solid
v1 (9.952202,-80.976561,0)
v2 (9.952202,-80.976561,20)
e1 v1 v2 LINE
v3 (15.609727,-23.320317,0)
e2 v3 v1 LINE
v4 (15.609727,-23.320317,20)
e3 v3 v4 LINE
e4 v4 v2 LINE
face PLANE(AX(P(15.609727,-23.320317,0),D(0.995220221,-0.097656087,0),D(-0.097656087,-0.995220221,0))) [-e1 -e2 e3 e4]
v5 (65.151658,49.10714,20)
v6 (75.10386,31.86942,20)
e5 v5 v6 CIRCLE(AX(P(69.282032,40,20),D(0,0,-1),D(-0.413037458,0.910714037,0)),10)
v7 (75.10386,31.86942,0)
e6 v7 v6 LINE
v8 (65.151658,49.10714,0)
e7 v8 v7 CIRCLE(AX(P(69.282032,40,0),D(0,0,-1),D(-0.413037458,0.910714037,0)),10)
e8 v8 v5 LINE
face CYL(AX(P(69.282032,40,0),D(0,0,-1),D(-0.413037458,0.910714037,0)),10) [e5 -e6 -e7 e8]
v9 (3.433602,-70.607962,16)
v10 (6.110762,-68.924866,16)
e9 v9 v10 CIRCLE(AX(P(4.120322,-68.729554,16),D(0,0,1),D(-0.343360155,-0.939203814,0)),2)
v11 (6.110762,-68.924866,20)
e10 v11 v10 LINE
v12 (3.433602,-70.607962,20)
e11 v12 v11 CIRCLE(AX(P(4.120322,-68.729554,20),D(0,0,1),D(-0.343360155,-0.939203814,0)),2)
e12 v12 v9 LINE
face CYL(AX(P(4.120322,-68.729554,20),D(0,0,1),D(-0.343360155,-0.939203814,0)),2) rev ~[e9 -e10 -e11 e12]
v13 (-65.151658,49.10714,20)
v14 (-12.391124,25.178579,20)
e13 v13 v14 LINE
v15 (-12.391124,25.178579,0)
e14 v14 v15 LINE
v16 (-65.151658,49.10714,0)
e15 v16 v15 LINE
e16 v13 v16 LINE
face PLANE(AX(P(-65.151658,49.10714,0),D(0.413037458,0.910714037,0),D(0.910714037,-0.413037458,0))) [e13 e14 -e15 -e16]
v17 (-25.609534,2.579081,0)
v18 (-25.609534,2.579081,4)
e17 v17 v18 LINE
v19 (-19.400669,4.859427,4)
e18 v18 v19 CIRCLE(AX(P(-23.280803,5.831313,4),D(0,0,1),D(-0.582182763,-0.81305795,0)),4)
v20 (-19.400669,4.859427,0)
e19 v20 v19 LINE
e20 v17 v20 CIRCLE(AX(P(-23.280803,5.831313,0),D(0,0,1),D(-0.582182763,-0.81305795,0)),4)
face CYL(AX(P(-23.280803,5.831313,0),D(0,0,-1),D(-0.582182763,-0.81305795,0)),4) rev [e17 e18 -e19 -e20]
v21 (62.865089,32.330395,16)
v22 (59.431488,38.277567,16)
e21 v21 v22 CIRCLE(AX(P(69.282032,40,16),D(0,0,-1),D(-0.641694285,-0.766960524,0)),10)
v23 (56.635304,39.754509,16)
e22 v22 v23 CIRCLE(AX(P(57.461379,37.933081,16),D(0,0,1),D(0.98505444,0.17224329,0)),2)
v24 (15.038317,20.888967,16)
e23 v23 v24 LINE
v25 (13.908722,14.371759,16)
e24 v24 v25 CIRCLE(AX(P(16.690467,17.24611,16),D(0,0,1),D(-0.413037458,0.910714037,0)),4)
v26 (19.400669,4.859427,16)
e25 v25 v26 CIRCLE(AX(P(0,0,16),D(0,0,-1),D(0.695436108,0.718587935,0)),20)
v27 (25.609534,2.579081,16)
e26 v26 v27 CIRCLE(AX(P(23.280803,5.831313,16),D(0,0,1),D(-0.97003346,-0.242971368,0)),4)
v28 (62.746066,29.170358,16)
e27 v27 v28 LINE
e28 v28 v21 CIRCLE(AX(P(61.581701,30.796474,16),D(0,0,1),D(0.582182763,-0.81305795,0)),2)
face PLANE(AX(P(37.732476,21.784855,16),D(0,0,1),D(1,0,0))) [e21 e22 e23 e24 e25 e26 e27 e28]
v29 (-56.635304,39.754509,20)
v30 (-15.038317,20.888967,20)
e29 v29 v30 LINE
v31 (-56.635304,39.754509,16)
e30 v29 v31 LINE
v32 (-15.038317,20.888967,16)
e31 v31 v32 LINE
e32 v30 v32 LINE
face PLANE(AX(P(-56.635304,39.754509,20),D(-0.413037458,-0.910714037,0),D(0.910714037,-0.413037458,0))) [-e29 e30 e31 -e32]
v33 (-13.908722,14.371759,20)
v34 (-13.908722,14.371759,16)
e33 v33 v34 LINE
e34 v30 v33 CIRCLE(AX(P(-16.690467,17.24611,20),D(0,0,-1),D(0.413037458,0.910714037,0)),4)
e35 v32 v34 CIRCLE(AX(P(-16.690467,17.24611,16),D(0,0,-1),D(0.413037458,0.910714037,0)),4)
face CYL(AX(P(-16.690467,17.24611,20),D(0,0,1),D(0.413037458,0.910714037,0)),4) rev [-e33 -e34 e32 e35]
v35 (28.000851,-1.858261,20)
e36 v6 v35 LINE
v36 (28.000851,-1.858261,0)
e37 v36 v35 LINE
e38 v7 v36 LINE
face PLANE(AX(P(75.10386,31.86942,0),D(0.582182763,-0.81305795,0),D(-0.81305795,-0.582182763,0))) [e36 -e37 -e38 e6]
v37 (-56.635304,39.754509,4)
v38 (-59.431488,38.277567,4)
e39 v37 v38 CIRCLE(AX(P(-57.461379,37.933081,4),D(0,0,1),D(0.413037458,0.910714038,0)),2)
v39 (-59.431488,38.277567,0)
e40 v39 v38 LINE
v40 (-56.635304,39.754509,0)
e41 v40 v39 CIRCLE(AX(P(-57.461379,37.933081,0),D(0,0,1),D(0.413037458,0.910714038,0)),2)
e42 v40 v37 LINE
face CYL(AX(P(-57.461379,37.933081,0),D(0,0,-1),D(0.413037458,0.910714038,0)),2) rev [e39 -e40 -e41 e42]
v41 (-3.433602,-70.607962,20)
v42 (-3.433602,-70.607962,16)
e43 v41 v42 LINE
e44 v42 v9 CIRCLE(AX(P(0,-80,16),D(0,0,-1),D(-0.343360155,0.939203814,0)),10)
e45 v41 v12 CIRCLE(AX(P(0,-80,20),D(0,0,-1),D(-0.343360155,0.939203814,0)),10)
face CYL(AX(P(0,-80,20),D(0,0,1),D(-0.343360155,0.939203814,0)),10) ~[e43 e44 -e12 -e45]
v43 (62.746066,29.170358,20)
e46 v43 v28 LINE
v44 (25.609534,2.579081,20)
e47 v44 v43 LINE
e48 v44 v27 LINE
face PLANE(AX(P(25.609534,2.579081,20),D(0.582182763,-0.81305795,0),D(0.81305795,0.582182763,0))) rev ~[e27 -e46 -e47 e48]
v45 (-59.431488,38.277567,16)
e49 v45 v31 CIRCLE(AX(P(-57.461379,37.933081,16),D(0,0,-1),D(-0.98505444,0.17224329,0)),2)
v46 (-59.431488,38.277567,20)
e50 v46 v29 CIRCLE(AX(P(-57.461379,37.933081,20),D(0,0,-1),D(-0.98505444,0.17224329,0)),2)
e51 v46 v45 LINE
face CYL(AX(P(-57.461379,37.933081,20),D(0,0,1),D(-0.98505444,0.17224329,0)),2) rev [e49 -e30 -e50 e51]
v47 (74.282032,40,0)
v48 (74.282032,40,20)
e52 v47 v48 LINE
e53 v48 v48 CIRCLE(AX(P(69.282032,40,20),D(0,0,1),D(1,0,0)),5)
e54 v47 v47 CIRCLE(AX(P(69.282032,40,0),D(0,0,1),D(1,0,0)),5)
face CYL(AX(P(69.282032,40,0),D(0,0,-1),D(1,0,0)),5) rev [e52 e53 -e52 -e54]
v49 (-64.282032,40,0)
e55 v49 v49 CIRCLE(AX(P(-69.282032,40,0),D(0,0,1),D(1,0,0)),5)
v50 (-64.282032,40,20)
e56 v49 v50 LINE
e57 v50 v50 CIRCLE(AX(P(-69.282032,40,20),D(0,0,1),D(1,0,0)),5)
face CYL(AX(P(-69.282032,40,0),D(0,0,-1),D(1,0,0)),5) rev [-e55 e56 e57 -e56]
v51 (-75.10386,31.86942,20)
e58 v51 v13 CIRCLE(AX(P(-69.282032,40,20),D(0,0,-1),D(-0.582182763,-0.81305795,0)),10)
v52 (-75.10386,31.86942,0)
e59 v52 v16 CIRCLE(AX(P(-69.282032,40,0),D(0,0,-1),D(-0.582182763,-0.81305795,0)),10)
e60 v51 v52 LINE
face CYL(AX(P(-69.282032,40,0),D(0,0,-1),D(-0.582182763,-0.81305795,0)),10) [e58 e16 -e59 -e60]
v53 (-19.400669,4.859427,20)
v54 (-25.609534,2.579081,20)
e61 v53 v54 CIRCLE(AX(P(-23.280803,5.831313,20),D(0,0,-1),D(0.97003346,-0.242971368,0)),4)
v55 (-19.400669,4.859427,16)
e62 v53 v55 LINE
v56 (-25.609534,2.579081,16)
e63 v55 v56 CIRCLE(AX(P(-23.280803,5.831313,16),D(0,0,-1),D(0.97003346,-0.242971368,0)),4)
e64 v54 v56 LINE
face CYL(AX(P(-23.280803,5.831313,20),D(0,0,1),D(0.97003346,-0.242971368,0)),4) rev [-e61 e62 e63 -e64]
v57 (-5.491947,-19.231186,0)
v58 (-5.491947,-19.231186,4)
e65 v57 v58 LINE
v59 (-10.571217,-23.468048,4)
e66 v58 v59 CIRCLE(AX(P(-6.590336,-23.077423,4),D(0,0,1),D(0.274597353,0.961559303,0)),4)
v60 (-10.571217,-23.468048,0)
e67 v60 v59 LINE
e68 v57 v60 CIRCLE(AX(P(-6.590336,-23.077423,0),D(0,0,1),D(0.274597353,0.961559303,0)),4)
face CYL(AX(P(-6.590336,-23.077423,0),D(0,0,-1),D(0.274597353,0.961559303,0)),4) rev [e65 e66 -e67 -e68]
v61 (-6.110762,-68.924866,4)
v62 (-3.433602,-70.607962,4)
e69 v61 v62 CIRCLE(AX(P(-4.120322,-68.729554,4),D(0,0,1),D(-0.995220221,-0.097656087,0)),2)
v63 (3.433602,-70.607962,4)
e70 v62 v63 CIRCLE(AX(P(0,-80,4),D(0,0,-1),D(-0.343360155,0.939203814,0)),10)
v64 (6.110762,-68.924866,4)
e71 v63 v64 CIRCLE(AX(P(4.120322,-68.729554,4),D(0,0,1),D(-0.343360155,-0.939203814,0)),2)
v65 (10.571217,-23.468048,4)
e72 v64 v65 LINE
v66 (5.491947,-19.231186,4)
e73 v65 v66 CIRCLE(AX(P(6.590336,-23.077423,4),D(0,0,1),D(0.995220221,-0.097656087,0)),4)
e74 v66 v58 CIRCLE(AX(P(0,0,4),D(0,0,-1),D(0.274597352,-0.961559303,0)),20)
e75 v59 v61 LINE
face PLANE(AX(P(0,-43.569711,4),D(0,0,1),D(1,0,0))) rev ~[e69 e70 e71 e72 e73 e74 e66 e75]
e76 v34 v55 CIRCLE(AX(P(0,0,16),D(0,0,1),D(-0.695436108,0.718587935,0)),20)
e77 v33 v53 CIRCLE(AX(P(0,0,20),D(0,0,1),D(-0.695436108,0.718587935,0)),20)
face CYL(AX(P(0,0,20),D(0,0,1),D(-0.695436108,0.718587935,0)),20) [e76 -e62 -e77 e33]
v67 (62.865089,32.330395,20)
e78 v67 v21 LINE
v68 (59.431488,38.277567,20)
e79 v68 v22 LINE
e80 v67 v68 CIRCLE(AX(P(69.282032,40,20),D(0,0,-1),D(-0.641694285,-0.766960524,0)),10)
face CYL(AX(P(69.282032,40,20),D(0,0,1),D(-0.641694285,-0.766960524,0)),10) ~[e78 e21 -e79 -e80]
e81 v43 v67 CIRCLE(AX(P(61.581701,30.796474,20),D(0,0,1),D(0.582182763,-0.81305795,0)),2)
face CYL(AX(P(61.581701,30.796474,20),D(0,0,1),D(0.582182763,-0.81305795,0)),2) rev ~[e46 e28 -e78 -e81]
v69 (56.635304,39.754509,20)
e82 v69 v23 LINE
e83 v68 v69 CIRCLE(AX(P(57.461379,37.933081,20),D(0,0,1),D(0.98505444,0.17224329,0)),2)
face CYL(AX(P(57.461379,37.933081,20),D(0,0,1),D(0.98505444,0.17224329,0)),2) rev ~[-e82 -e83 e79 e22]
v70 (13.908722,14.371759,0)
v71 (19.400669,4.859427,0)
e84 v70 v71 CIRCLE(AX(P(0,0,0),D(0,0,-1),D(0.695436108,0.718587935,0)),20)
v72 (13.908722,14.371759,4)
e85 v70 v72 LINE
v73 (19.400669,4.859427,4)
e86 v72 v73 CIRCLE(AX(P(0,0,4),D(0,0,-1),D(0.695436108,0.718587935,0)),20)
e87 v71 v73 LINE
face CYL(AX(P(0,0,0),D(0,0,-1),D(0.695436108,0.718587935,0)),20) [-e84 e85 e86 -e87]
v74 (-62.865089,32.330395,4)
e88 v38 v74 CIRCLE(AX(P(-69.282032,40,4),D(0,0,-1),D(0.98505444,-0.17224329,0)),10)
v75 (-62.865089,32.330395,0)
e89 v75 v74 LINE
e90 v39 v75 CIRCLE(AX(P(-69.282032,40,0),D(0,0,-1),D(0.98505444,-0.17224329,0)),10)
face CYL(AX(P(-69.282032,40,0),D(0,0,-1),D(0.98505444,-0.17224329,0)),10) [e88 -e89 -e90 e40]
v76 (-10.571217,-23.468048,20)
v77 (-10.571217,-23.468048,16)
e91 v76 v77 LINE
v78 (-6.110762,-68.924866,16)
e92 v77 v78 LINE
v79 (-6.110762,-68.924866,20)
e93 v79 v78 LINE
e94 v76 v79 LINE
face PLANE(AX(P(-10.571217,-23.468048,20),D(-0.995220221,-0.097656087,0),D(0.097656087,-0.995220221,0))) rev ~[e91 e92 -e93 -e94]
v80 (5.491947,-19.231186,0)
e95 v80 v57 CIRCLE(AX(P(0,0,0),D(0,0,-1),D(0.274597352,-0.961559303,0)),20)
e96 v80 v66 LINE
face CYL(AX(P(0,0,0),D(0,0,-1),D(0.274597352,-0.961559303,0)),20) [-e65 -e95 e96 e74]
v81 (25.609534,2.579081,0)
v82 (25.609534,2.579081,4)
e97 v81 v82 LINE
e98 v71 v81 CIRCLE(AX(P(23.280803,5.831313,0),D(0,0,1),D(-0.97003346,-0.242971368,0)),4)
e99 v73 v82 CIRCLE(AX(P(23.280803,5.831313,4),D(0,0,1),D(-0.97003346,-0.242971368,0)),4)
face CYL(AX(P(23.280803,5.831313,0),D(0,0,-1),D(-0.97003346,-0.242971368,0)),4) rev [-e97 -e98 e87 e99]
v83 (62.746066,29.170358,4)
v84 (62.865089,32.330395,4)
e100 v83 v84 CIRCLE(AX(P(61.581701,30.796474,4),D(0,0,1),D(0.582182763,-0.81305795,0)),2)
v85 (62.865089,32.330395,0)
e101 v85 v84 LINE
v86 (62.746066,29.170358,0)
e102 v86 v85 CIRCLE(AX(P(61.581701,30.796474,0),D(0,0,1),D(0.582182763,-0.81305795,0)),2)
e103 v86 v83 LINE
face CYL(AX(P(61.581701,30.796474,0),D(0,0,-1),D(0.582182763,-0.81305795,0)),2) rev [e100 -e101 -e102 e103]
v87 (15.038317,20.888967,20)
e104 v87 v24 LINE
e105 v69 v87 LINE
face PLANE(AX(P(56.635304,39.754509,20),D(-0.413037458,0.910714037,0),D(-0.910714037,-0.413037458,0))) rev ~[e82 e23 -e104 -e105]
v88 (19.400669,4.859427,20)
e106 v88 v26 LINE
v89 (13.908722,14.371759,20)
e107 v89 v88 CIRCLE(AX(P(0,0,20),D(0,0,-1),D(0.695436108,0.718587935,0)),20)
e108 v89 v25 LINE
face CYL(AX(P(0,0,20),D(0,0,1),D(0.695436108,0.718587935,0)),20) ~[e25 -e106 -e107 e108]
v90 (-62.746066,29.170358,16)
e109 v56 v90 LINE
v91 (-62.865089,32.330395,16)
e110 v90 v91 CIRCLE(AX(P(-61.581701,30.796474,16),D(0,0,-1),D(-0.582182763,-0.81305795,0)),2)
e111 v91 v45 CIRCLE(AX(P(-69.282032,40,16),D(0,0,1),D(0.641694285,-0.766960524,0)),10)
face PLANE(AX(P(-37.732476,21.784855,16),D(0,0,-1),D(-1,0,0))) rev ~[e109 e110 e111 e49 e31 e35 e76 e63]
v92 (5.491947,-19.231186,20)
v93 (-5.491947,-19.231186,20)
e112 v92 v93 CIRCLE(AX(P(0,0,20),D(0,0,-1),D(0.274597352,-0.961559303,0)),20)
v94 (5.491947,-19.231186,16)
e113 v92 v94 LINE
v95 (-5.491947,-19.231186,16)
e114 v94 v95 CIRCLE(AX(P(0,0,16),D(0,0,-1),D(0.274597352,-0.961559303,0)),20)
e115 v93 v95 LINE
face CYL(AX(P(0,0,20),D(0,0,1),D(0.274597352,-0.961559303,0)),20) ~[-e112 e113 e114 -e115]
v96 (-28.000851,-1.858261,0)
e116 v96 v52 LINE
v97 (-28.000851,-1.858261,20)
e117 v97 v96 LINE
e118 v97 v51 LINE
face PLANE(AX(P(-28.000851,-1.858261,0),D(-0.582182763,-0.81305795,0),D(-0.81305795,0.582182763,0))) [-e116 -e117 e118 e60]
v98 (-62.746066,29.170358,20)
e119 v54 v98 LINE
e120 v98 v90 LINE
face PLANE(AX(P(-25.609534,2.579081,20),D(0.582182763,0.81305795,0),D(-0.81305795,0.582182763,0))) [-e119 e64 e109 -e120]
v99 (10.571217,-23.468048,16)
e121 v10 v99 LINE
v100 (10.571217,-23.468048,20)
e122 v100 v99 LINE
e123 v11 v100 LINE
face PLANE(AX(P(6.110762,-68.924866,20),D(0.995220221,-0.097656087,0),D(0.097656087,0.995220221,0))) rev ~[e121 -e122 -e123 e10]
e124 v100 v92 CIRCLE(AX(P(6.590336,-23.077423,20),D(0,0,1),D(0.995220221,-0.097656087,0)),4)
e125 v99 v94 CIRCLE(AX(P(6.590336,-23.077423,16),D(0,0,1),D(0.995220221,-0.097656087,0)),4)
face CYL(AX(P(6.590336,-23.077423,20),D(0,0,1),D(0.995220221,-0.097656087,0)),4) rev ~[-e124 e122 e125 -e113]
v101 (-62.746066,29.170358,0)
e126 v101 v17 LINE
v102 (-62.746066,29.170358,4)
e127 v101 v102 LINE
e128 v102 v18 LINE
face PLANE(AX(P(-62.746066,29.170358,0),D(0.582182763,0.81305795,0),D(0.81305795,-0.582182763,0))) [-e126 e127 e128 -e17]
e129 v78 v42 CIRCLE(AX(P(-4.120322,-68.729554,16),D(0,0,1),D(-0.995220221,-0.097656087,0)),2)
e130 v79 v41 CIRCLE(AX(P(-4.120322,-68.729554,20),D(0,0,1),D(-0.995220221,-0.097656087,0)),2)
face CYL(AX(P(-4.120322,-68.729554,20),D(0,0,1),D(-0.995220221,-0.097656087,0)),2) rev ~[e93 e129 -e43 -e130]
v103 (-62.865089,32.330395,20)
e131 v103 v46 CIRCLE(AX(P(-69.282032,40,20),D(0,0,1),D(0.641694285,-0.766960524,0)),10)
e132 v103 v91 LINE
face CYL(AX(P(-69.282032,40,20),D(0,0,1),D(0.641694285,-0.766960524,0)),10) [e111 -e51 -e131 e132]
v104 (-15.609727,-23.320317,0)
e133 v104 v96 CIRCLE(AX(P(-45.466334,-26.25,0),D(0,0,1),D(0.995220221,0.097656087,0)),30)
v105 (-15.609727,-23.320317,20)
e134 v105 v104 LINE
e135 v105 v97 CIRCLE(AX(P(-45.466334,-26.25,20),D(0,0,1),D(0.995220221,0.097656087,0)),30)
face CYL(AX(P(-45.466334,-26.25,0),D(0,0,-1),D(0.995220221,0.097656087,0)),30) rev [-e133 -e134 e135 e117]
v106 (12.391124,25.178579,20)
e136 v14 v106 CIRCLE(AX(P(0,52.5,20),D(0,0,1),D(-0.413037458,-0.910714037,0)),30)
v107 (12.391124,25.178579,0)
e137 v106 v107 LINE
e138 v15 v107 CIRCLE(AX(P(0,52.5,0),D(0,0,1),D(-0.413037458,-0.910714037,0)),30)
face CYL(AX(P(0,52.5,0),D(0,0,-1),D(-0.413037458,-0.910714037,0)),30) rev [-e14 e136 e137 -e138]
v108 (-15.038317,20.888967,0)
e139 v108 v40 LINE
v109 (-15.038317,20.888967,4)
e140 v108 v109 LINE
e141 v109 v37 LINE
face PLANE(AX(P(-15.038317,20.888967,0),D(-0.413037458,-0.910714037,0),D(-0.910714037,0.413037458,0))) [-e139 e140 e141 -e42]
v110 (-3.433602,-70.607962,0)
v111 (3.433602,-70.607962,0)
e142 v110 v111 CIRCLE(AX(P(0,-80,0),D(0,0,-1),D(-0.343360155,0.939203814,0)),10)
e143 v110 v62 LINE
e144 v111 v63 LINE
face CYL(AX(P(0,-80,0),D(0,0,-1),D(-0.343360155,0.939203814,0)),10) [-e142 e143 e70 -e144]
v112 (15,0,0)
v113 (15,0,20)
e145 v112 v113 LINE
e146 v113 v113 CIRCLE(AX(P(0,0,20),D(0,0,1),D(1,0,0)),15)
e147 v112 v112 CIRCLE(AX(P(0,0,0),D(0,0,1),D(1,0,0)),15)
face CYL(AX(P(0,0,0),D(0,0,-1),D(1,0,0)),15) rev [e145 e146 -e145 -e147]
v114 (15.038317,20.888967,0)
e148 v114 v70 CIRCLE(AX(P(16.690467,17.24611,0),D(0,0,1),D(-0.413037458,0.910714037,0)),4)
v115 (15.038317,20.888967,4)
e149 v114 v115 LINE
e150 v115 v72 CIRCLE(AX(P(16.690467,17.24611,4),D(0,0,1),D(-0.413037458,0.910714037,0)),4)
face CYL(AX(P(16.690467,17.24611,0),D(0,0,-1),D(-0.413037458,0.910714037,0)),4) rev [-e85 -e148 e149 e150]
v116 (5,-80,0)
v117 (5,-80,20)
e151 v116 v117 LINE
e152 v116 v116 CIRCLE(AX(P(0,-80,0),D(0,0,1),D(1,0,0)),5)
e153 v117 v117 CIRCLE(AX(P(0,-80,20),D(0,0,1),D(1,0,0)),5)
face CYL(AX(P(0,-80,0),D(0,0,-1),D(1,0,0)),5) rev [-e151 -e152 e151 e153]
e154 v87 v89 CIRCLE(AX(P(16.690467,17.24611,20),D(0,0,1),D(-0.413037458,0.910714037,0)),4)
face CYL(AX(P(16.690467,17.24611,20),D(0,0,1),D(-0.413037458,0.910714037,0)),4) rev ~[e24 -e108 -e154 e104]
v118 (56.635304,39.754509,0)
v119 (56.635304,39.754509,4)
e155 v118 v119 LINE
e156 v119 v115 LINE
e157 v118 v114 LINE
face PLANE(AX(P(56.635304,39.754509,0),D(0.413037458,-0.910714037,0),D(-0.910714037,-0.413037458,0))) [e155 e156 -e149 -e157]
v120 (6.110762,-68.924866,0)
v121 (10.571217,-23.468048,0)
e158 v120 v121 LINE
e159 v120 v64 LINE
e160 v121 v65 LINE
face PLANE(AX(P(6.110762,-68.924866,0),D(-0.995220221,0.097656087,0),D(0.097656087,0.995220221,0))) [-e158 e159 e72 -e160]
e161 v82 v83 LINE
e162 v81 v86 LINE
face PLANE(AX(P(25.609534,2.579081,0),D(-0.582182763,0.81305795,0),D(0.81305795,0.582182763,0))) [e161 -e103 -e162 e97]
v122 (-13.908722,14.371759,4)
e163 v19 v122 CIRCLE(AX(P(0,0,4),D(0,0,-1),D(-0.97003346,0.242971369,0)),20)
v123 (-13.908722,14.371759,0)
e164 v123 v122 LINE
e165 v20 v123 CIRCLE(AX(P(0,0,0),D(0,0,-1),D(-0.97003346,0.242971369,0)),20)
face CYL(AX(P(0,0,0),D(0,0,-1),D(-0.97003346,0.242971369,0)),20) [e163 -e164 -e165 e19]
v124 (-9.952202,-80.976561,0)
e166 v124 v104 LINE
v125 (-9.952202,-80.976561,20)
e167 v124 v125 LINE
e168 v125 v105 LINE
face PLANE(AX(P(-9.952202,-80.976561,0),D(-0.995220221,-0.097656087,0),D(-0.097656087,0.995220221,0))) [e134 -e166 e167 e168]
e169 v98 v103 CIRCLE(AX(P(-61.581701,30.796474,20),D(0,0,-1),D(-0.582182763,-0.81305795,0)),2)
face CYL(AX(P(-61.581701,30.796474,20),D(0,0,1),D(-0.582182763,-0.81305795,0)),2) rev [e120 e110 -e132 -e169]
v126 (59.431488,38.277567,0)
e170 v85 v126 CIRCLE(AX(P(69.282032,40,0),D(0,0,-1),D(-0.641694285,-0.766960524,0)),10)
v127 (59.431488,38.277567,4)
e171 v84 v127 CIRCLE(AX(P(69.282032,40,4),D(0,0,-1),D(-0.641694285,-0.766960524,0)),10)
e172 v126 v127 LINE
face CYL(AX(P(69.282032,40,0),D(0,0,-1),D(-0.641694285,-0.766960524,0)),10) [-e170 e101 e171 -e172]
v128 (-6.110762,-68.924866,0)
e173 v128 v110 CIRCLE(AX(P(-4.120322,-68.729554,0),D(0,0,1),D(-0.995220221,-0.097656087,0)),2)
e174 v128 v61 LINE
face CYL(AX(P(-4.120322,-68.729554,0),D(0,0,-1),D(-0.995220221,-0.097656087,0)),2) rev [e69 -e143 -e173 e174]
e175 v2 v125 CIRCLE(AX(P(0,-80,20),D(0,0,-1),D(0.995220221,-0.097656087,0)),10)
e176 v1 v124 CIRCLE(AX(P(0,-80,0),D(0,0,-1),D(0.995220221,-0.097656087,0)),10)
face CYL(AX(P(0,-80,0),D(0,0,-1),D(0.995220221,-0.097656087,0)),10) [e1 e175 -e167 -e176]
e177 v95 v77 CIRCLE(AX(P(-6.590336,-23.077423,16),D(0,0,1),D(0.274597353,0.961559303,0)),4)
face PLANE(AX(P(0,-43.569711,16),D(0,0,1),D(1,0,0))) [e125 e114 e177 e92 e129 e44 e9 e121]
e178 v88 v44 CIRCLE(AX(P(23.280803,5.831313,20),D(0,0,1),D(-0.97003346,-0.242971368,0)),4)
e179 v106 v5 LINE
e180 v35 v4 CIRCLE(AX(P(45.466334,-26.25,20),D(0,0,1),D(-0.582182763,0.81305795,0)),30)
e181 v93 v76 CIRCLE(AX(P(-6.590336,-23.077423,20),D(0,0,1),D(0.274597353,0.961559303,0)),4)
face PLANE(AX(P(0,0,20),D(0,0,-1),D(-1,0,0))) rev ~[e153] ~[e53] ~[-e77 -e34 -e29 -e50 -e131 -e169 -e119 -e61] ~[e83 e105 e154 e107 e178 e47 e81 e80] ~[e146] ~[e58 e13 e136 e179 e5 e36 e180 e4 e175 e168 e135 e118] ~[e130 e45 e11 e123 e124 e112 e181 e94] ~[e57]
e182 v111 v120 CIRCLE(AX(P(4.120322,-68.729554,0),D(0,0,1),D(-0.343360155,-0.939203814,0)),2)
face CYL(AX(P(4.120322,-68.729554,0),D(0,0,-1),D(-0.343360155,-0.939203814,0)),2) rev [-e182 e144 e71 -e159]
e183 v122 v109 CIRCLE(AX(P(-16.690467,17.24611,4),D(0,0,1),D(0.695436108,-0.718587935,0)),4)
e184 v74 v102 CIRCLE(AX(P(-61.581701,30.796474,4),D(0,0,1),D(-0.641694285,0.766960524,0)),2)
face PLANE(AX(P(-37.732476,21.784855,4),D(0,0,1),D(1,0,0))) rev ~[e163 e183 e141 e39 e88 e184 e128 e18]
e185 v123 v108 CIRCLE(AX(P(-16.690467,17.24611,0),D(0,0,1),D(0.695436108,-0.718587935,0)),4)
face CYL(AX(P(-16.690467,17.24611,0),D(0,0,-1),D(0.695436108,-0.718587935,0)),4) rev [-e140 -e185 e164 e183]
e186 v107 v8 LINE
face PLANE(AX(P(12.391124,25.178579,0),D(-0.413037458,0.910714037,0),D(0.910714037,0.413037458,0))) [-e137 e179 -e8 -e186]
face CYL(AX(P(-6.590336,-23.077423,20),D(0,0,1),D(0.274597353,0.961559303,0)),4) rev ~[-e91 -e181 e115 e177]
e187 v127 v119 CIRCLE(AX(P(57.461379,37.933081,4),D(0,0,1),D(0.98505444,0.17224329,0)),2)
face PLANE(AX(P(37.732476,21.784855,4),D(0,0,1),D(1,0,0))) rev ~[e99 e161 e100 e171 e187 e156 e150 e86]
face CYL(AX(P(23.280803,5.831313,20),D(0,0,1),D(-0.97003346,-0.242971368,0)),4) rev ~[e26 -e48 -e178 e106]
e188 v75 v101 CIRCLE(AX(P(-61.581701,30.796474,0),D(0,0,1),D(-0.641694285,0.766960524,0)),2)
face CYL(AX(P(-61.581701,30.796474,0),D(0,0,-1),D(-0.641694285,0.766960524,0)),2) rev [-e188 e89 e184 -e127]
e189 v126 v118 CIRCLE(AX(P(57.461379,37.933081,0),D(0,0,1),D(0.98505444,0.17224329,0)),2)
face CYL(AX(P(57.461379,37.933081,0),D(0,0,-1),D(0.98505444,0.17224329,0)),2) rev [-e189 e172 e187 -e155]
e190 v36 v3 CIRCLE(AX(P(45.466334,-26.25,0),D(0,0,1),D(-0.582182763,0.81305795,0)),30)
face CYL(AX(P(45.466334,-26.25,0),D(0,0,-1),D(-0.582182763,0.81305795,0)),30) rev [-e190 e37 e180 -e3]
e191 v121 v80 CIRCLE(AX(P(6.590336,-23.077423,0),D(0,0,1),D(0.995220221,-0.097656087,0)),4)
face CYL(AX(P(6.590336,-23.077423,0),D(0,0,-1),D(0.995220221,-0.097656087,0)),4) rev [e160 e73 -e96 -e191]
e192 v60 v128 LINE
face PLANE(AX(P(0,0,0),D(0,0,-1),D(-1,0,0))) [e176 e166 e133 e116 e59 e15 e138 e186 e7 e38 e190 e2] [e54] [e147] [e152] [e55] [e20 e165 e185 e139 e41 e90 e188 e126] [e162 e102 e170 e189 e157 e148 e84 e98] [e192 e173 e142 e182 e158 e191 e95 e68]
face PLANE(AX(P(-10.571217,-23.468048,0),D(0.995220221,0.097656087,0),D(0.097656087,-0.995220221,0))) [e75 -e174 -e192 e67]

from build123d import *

# Parameters (mm, degrees)
SKETCH1_R           = 15
SKETCH1_R_2         = 5
BOSS_EXTRUDE2_DEPTH = 20
SKETCH7_OUTSIDE_W   = 203.058
SKETCH7_OUTSIDE_H   = 184.494
CUT_EXTRUDE4_DEPTH  = 4
CUT_EXTRUDE5_DEPTH  = 4


with BuildPart() as part:
    # Sketch1 → Boss-Extrude2 (new body)
    with BuildSketch(Plane.XY):
        with BuildLine():
            Line((-9.952202212, -80.976560871), (-15.609727063, -23.320317388))
            ThreePointArc((-15.609727063, -23.320317388), (-19.485571585, -11.25), (-28.000850814, -1.858261489))
            Line((-28.000850814, -1.858261489), (-75.103859931, 31.869420496))
            ThreePointArc((-75.103859931, 31.869420496), (-77.942286341, 45), (-65.151657719, 49.107140374))
            Line((-65.151657719, 49.107140374), (-12.391123751, 25.178578877))
            ThreePointArc((-12.391123751, 25.178578877), (0, 22.5), (12.391123751, 25.178578877))
            Line((12.391123751, 25.178578877), (65.151657719, 49.107140374))
            ThreePointArc((65.151657719, 49.107140374), (77.942286341, 45), (75.103859931, 31.869420496))
            Line((75.103859931, 31.869420496), (28.000850814, -1.858261489))
            ThreePointArc((28.000850814, -1.858261489), (19.485571585, -11.25), (15.609727063, -23.320317388))
            Line((15.609727063, -23.320317388), (9.952202212, -80.976560871))
            ThreePointArc((9.952202212, -80.976560871), (0, -90), (-9.952202212, -80.976560871))
        make_face()
        Circle(SKETCH1_R, mode=Mode.SUBTRACT)
        with Locations((0, -80)):
            Circle(SKETCH1_R_2, mode=Mode.SUBTRACT)
        with Locations((-69.282032303, 40)):
            Circle(SKETCH1_R_2, mode=Mode.SUBTRACT)
        with Locations((69.282032303, 40)):
            Circle(SKETCH1_R_2, mode=Mode.SUBTRACT)
    extrude(amount=BOSS_EXTRUDE2_DEPTH)

    # Sketch7 outside → Cut-Extrude4 (cut)
    with BuildSketch(Plane.XY.offset(20)):
        with Locations((0, -20)):
            Rectangle(SKETCH7_OUTSIDE_W, SKETCH7_OUTSIDE_H)
        with BuildLine():
            Line((-15.609727063, -23.320317388), (-9.952202212, -80.976560871))
            ThreePointArc((-9.952202212, -80.976560871), (0, -90), (9.952202212, -80.976560871))
            Line((9.952202212, -80.976560871), (15.609727063, -23.320317388))
            ThreePointArc((15.609727063, -23.320317388), (19.485571585, -11.25), (28.000850814, -1.858261489))
            Line((28.000850814, -1.858261489), (75.103859931, 31.869420496))
            ThreePointArc((75.103859931, 31.869420496), (77.942286341, 45), (65.151657719, 49.107140374))
            Line((65.151657719, 49.107140374), (12.391123751, 25.178578877))
            ThreePointArc((12.391123751, 25.178578877), (0, 22.5), (-12.391123751, 25.178578877))
            Line((-12.391123751, 25.178578877), (-65.151657719, 49.107140374))
            ThreePointArc((-65.151657719, 49.107140374), (-77.942286341, 45), (-75.103859931, 31.869420496))
            Line((-75.103859931, 31.869420496), (-28.000850814, -1.858261489))
            ThreePointArc((-28.000850814, -1.858261489), (-19.485571585, -11.25), (-15.609727063, -23.320317388))
        make_face(mode=Mode.SUBTRACT)
        with BuildLine():
            Line((-25.609534097, 2.579081047), (-62.746066413, 29.170357813))
            ThreePointArc((-62.746066413, 29.170357813), (-63.580283737, 30.721196932), (-62.865089457, 32.330394762))
            ThreePointArc((-62.865089457, 32.330394762), (-60.621778265, 35), (-59.431487906, 38.2775671))
            ThreePointArc((-59.431487906, 38.2775671), (-58.395478846, 39.70154243), (-56.63530411, 39.754508595))
            Line((-56.63530411, 39.754508595), (-15.038316754, 20.888966584))
            ThreePointArc((-15.038316754, 20.888966584), (-12.749228932, 17.929225173), (-13.908722156, 14.371758695))
            ThreePointArc((-13.908722156, 14.371758695), (-17.320508076, 10), (-19.400669205, 4.859427374))
            ThreePointArc((-19.400669205, 4.859427374), (-21.901778936, 2.076543547), (-25.609534097, 2.579081047))
        make_face()
        with BuildLine():
            Line((25.609534097, 2.579081047), (62.746066413, 29.170357813))
            ThreePointArc((62.746066413, 29.170357813), (63.580283737, 30.721196932), (62.865089457, 32.330394762))
            ThreePointArc((62.865089457, 32.330394762), (60.621778265, 35), (59.431487906, 38.2775671))
            ThreePointArc((59.431487906, 38.2775671), (58.395478846, 39.70154243), (56.63530411, 39.754508595))
            Line((56.63530411, 39.754508595), (15.038316754, 20.888966584))
            ThreePointArc((15.038316754, 20.888966584), (12.749228932, 17.929225173), (13.908722156, 14.371758695))
            ThreePointArc((13.908722156, 14.371758695), (17.320508076, 10), (19.400669205, 4.859427374))
            ThreePointArc((19.400669205, 4.859427374), (21.901778936, 2.076543547), (25.609534097, 2.579081047))
        make_face()
        with BuildLine():
            Line((-10.571217344, -23.468047631), (-6.110762303, -68.924866408))
            ThreePointArc((-6.110762303, -68.924866408), (-5.184804891, -70.422739362), (-3.43360155, -70.607961862))
            ThreePointArc((-3.43360155, -70.607961862), (0, -70), (3.43360155, -70.607961862))
            ThreePointArc((3.43360155, -70.607961862), (5.184804891, -70.422739362), (6.110762303, -68.924866408))
            Line((6.110762303, -68.924866408), (10.571217344, -23.468047631))
            ThreePointArc((10.571217344, -23.468047631), (9.152550004, -20.00576872), (5.491947049, -19.231186069))
            ThreePointArc((5.491947049, -19.231186069), (0, -20), (-5.491947049, -19.231186069))
            ThreePointArc((-5.491947049, -19.231186069), (-9.152550004, -20.00576872), (-10.571217344, -23.468047631))
        make_face()
    extrude(amount=-CUT_EXTRUDE4_DEPTH, mode=Mode.SUBTRACT)

    # Sketch3 → Cut-Extrude5 (cut)
    with BuildSketch(Plane(origin=(0, 0, 0), x_dir=(-1, 0, 0), z_dir=(0, 0, -1))):
        with BuildLine():
            Line((10.571217344, -23.468047631), (6.110762303, -68.924866408))
            ThreePointArc((6.110762303, -68.924866408), (5.184804891, -70.422739362), (3.43360155, -70.607961862))
            ThreePointArc((3.43360155, -70.607961862), (0, -70), (-3.43360155, -70.607961862))
            ThreePointArc((-3.43360155, -70.607961862), (-5.184804891, -70.422739362), (-6.110762303, -68.924866408))
            Line((-6.110762303, -68.924866408), (-10.571217344, -23.468047631))
            ThreePointArc((-10.571217344, -23.468047631), (-9.152550004, -20.00576872), (-5.491947049, -19.231186069))
            ThreePointArc((-5.491947049, -19.231186069), (0, -20), (5.491947049, -19.231186069))
            ThreePointArc((5.491947049, -19.231186069), (9.152550004, -20.00576872), (10.571217344, -23.468047631))
        make_face()
        with BuildLine():
            Line((-25.609534097, 2.579081047), (-62.746066413, 29.170357813))
            ThreePointArc((-62.746066413, 29.170357813), (-63.580283737, 30.721196932), (-62.865089457, 32.330394762))
            ThreePointArc((-62.865089457, 32.330394762), (-60.621778265, 35), (-59.431487906, 38.2775671))
            ThreePointArc((-59.431487906, 38.2775671), (-58.395478846, 39.70154243), (-56.63530411, 39.754508595))
            Line((-56.63530411, 39.754508595), (-15.038316754, 20.888966584))
            ThreePointArc((-15.038316754, 20.888966584), (-12.749228932, 17.929225173), (-13.908722156, 14.371758695))
            ThreePointArc((-13.908722156, 14.371758695), (-17.320508076, 10), (-19.400669205, 4.859427374))
            ThreePointArc((-19.400669205, 4.859427374), (-21.901778936, 2.076543547), (-25.609534097, 2.579081047))
        make_face()
        with BuildLine():
            Line((15.038316754, 20.888966584), (56.63530411, 39.754508595))
            ThreePointArc((56.63530411, 39.754508595), (58.395478846, 39.70154243), (59.431487906, 38.2775671))
            ThreePointArc((59.431487906, 38.2775671), (60.621778265, 35), (62.865089457, 32.330394762))
            ThreePointArc((62.865089457, 32.330394762), (63.580283737, 30.721196932), (62.746066413, 29.170357813))
            Line((62.746066413, 29.170357813), (25.609534097, 2.579081047))
            ThreePointArc((25.609534097, 2.579081047), (21.901778936, 2.076543547), (19.400669205, 4.859427374))
            ThreePointArc((19.400669205, 4.859427374), (17.320508076, 10), (13.908722156, 14.371758695))
            ThreePointArc((13.908722156, 14.371758695), (12.749228932, 17.929225173), (15.038316754, 20.888966584))
        make_face()
    extrude(amount=-CUT_EXTRUDE5_DEPTH, mode=Mode.SUBTRACT)


solid = part.part
